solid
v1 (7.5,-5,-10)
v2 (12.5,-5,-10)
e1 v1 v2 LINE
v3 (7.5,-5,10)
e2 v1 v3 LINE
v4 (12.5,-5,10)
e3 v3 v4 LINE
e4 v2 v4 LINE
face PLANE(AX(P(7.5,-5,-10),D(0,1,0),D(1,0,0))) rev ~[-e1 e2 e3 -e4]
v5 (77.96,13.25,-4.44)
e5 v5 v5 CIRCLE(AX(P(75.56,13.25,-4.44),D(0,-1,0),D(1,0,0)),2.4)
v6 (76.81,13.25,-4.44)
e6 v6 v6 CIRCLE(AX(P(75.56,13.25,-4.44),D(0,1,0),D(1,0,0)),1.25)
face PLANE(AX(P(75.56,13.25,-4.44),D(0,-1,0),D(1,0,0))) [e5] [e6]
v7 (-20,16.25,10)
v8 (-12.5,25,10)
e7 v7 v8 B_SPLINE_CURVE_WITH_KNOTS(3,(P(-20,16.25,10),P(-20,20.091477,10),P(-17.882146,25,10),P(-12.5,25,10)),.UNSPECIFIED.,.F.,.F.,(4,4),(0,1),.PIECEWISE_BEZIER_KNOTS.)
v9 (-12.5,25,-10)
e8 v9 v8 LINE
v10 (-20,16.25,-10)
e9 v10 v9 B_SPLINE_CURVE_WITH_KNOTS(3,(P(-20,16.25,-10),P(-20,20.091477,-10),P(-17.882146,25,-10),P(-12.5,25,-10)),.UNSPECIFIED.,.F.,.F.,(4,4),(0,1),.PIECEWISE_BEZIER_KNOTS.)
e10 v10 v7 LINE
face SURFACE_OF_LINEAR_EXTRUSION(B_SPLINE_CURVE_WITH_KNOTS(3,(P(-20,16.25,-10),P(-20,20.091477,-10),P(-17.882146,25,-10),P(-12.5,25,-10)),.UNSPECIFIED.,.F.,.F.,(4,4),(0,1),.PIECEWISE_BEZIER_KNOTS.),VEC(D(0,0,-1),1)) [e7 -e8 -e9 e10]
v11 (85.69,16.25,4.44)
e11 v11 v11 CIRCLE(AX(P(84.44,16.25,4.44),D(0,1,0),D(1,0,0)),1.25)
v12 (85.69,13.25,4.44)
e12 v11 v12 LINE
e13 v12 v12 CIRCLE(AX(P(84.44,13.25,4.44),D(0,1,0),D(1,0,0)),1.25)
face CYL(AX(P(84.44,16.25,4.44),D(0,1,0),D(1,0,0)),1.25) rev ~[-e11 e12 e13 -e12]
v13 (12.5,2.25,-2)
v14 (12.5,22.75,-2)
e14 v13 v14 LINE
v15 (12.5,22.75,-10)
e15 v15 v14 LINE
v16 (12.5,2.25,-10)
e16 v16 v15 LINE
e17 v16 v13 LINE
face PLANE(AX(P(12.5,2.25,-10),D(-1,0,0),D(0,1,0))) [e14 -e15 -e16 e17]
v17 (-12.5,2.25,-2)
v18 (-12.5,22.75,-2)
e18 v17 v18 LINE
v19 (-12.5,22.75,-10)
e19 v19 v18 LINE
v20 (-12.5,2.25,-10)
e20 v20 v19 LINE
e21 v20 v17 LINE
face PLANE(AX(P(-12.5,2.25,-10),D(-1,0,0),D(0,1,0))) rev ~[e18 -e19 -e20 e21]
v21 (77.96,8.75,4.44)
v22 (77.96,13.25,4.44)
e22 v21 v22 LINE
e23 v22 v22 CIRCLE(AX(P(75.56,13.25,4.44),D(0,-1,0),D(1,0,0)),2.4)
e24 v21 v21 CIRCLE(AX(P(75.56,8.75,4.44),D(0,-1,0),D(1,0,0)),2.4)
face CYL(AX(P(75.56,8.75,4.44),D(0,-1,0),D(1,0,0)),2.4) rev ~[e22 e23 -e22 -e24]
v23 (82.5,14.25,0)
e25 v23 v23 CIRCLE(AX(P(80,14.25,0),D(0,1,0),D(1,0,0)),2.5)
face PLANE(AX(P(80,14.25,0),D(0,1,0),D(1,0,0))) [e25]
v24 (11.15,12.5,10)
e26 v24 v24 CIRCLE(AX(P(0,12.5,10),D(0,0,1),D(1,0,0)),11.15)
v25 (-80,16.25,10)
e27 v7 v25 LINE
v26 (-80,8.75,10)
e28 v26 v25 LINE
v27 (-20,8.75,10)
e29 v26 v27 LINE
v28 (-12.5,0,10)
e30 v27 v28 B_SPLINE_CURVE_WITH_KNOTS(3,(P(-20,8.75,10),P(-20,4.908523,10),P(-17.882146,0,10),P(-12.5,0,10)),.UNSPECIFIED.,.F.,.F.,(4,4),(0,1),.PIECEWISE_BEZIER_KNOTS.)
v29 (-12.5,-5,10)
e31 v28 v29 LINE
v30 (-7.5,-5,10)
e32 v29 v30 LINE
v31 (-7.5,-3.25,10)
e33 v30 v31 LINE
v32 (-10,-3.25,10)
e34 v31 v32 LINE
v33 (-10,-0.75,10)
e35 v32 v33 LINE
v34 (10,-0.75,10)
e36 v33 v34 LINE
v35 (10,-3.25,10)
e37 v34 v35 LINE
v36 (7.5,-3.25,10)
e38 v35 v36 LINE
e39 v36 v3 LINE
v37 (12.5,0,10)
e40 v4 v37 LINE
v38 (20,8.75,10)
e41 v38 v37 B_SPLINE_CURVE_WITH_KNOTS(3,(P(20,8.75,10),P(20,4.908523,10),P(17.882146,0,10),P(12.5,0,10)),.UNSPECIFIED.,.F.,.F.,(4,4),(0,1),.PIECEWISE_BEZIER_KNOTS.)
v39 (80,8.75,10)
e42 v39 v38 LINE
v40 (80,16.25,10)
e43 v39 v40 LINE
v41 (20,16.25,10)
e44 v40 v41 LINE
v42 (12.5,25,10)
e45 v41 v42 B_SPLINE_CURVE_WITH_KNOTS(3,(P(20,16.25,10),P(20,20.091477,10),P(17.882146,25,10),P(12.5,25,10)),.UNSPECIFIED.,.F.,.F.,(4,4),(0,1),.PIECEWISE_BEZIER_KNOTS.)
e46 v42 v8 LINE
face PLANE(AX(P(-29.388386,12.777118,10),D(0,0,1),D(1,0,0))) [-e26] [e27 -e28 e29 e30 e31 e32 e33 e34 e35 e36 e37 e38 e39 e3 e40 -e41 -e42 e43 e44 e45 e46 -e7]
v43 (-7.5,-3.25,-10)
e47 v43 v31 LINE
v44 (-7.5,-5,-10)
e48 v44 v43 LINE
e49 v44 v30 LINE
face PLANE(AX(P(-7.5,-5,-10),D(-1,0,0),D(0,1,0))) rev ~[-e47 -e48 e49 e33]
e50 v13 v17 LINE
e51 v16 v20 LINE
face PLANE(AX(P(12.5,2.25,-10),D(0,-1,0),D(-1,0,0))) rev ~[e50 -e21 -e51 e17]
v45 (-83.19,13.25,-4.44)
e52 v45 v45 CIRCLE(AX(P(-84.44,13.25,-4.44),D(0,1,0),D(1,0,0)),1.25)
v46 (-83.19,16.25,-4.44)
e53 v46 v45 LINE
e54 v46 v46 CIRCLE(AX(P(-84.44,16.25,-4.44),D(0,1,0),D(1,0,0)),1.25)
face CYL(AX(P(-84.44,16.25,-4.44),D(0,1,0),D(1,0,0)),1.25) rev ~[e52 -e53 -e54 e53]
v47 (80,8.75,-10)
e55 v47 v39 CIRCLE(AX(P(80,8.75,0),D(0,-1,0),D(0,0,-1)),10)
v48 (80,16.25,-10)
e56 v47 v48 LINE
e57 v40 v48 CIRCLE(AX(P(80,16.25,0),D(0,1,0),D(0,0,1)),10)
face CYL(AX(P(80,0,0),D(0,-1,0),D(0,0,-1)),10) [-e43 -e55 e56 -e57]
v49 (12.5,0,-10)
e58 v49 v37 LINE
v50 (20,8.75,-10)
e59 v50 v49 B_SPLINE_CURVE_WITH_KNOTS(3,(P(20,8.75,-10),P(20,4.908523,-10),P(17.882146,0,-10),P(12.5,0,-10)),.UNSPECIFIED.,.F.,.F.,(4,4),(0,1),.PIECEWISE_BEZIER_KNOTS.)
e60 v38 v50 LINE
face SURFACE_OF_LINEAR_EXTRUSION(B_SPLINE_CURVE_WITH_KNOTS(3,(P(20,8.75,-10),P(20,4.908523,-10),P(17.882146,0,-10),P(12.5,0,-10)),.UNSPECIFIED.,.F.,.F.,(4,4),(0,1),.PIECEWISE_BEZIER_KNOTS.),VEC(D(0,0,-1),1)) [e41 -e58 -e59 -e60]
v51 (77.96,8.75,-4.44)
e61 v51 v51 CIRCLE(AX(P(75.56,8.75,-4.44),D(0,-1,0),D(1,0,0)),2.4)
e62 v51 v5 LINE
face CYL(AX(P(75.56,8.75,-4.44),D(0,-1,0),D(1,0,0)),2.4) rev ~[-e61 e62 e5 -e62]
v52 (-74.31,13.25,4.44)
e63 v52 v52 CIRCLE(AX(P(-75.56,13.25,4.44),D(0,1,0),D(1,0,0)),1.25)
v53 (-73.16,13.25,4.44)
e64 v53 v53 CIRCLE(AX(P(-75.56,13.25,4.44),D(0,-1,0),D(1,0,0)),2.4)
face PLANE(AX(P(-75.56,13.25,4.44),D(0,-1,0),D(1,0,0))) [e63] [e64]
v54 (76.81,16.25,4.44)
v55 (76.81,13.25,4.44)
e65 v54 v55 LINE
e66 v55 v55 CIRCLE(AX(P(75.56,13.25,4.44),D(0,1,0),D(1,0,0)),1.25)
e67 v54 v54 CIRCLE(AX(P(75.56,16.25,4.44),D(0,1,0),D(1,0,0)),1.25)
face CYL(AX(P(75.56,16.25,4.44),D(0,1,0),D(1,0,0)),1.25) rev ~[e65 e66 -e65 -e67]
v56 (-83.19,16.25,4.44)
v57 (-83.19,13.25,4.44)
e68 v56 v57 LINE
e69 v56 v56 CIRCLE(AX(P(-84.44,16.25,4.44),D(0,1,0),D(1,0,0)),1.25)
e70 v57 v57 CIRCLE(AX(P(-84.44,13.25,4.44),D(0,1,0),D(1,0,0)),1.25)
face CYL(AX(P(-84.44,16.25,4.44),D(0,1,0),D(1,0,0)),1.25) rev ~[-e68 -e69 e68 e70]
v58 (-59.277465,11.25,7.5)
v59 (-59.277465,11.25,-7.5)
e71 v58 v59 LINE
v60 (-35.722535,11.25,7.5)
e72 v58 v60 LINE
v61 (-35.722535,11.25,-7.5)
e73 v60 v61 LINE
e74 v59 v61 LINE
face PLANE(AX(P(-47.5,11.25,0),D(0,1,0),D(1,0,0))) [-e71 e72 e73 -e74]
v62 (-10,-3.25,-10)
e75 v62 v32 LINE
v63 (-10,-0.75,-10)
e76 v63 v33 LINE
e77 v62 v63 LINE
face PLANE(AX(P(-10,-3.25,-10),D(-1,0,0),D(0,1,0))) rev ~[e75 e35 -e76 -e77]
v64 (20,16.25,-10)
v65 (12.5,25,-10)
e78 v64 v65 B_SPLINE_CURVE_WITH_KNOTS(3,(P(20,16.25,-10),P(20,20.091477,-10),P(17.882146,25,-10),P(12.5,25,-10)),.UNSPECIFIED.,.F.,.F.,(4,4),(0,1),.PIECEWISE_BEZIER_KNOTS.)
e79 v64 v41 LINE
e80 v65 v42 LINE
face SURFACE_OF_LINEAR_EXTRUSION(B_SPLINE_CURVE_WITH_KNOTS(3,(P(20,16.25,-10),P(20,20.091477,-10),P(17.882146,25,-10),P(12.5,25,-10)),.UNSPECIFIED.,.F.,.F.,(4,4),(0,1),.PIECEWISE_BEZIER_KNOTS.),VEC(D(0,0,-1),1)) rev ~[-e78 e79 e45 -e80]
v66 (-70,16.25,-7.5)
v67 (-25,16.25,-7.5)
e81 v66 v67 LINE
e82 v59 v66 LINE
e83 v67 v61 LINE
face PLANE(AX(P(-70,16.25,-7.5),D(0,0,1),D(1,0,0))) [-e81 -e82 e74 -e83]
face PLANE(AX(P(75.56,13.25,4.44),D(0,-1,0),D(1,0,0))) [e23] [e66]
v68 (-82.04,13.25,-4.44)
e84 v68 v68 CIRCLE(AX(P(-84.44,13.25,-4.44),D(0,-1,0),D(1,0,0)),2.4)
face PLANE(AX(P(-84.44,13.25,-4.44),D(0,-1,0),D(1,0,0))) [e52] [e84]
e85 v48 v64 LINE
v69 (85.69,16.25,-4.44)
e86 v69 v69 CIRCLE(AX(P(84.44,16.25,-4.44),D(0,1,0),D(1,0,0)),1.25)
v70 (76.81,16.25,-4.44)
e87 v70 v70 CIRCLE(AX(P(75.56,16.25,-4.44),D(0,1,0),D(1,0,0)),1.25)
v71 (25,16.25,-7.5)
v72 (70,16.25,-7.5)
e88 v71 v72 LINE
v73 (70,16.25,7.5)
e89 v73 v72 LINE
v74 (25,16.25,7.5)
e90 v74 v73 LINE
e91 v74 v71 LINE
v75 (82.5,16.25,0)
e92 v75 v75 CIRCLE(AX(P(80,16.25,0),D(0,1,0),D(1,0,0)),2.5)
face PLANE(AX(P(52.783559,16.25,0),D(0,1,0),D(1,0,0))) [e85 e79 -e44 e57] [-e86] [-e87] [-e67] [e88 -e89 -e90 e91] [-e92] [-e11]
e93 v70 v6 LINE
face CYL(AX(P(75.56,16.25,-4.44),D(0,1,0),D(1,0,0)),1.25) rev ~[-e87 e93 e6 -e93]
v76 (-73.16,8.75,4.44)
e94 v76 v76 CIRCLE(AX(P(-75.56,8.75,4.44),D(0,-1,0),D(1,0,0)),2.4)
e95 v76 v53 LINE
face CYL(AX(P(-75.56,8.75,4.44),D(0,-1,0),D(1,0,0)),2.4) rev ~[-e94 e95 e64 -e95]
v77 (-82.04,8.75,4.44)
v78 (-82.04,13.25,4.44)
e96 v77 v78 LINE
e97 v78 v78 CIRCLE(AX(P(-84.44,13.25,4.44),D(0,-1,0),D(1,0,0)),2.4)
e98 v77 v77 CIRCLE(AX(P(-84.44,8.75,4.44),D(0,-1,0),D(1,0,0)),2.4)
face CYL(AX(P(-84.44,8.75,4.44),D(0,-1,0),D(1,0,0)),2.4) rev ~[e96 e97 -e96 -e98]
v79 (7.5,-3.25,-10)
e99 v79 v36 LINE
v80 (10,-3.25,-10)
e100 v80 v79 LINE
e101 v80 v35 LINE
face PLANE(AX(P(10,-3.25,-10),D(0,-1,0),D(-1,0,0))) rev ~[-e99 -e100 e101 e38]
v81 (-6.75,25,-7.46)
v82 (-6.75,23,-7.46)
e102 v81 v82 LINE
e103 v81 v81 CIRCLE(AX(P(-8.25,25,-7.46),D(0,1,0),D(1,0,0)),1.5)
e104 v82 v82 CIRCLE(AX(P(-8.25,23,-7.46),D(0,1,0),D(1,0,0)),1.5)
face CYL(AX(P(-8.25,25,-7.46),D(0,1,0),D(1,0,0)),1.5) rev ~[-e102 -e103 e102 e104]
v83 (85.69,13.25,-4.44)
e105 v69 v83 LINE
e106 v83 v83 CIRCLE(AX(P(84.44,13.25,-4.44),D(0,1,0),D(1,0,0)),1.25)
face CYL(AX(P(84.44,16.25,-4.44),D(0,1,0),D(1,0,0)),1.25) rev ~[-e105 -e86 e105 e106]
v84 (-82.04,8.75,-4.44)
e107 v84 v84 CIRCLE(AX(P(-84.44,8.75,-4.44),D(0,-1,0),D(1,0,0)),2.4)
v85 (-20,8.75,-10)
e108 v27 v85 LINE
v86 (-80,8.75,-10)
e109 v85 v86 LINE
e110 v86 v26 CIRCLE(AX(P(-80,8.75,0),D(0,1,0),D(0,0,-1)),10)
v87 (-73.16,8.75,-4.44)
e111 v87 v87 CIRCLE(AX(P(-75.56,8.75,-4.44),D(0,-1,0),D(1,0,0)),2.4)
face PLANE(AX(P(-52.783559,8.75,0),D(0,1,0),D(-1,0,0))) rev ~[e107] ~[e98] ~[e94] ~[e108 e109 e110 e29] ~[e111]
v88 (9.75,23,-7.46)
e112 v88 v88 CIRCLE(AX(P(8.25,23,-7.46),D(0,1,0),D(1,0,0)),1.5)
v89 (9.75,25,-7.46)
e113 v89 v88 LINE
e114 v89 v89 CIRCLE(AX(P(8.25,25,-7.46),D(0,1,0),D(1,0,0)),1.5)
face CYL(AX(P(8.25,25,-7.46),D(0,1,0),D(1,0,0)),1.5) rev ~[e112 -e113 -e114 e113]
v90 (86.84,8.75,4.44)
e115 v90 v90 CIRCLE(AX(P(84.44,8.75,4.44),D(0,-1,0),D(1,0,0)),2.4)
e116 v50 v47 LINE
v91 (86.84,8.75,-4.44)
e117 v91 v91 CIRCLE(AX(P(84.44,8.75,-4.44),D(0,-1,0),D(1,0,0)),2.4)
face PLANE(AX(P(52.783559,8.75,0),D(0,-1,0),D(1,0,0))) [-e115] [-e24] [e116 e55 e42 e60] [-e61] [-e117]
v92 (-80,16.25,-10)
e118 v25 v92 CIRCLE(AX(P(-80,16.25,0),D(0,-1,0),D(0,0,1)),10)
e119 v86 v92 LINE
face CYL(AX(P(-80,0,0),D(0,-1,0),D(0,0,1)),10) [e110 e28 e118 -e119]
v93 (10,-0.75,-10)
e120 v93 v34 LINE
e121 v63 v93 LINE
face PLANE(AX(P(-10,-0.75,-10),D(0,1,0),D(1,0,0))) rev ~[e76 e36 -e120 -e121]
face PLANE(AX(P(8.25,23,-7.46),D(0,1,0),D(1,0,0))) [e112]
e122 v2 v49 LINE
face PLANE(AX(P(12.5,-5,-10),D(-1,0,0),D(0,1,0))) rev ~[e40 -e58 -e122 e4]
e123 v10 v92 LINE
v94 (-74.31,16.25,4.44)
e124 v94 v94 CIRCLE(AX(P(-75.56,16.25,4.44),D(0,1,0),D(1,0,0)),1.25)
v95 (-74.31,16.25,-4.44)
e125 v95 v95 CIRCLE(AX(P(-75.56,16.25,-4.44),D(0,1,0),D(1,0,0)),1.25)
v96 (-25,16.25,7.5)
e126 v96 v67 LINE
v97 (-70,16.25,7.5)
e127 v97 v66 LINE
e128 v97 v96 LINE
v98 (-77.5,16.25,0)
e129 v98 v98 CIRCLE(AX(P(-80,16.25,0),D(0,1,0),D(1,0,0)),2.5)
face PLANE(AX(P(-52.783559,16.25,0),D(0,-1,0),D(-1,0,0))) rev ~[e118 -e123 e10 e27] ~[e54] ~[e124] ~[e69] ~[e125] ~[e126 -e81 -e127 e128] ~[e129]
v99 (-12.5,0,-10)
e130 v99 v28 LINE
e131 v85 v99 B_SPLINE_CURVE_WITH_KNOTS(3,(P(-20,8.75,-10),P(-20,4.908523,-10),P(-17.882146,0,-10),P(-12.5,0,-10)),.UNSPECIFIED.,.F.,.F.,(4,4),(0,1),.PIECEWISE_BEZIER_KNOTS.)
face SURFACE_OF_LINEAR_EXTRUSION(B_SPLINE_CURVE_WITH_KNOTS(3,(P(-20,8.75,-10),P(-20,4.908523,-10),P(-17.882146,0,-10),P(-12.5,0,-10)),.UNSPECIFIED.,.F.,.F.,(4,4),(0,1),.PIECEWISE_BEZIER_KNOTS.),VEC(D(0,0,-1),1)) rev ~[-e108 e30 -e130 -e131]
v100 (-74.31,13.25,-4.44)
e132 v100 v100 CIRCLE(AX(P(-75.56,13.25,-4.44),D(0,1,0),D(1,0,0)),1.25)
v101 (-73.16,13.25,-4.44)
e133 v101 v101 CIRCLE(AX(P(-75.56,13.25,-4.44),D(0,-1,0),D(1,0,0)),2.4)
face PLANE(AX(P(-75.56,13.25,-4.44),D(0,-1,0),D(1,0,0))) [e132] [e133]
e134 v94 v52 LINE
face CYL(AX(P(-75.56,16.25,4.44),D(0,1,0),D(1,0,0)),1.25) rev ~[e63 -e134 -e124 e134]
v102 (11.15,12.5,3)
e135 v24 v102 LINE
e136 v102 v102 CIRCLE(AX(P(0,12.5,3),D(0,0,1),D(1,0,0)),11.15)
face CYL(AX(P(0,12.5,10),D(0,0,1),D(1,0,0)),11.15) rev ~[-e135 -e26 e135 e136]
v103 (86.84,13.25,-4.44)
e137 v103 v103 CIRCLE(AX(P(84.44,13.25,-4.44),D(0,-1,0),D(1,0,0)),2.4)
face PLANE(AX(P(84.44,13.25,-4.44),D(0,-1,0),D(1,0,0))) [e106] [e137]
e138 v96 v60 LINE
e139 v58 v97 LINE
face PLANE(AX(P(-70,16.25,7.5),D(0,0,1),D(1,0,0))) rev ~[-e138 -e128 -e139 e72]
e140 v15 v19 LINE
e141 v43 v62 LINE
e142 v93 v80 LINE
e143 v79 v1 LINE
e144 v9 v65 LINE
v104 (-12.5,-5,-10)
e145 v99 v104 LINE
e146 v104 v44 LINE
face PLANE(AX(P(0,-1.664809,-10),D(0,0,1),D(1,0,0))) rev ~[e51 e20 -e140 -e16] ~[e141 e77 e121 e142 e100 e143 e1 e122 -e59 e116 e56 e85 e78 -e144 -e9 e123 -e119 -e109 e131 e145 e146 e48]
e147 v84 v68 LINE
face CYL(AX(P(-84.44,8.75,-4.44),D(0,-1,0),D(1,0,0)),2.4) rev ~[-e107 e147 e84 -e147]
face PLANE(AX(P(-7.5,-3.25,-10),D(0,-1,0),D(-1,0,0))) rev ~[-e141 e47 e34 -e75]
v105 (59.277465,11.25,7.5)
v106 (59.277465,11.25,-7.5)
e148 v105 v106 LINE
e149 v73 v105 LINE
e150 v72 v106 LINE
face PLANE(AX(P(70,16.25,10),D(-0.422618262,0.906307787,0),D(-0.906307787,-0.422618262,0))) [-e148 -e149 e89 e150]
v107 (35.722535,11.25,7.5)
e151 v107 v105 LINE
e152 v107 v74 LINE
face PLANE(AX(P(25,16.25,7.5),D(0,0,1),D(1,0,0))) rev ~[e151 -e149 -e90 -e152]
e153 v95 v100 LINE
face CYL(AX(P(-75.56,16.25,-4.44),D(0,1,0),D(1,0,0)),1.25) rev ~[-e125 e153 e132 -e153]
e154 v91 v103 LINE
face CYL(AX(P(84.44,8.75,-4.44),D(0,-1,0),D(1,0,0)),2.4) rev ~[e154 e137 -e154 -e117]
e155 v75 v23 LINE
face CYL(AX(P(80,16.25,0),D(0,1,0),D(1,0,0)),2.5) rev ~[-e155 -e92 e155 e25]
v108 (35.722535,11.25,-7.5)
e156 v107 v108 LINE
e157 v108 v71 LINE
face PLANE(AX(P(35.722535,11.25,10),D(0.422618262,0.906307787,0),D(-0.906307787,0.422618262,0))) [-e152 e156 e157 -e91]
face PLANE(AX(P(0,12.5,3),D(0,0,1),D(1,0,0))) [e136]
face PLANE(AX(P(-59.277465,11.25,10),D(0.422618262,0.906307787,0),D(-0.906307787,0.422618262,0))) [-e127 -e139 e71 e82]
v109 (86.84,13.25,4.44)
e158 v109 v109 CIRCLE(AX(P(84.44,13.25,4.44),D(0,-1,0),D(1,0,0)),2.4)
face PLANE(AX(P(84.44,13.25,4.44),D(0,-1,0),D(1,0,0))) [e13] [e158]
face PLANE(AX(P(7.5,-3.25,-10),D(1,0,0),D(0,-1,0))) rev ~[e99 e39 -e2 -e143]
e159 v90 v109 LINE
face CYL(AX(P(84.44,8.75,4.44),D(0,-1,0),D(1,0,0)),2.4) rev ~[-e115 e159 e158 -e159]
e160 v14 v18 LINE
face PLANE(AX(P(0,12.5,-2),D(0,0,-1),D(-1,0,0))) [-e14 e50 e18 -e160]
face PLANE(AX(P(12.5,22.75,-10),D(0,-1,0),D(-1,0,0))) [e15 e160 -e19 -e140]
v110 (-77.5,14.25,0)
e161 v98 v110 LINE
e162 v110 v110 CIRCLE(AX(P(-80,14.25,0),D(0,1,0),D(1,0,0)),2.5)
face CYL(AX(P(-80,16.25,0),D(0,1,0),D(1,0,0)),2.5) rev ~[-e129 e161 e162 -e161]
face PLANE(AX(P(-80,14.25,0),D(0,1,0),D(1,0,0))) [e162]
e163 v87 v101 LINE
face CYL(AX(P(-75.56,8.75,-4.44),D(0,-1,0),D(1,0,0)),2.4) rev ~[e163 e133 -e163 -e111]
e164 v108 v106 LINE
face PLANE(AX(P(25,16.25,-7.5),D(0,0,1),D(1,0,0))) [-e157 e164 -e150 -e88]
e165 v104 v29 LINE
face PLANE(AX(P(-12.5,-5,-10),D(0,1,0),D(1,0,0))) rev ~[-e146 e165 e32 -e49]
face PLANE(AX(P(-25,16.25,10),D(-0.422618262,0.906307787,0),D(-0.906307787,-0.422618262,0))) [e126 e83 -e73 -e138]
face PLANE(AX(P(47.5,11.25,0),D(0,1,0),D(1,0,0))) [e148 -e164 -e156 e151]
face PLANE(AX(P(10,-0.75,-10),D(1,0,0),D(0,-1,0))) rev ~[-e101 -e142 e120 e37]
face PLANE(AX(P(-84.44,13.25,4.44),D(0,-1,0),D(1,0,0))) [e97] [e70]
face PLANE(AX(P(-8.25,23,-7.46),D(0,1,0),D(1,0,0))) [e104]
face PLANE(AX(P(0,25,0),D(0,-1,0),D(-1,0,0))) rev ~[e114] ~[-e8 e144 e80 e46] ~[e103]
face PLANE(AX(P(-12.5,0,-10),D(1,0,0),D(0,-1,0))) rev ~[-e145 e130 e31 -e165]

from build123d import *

# Parameters (mm, degrees)
BOSS_EXTRUDE1_DEPTH = 25
SKETCH2_R           = 11.15
CUT_EXTRUDE1_DEPTH  = 7
CUT_EXTRUDE2_DEPTH  = 8.75
CUT_EXTRUDE3_DEPTH  = 8.75
SKETCH5_W           = 25
SKETCH5_H           = 20.5
CUT_EXTRUDE4_DEPTH  = 8
SKETCH9_R           = 2.5
CUT_EXTRUDE5_DEPTH  = 2
CUT_EXTRUDE6_REACH  = 18.25
SKETCH10_R          = 1.25
SKETCH13_R          = 2.4
CUT_EXTRUDE7_DEPTH  = 4.5
SKETCH14_R          = 1.5
CUT_EXTRUDE8_DEPTH  = 2
CUT_EXTRUDE10_DEPTH = 20
BOSS_EXTRUDE2_DEPTH = 20
SKETCH18_W          = 45
SKETCH18_H          = 15
CUT_EXTRUDE11_DEPTH = 5
BOSS_EXTRUDE3_DEPTH = 20


with BuildPart() as part:
    # Sketch1 → Boss-Extrude1 (new body)
    with BuildSketch(Plane(origin=(0, 0, 0), x_dir=(1, 0, 0), z_dir=(0, 1, 0))):
        with BuildLine():
            Line((-80, 10), (80, 10))
            ThreePointArc((80, 10), (90, 0), (80, -10))
            Line((80, -10), (-80, -10))
            ThreePointArc((-80, -10), (-90, 0), (-80, 10))
        make_face()
    extrude(amount=BOSS_EXTRUDE1_DEPTH)

    # Sketch2 → Cut-Extrude1 (cut)
    with BuildSketch(Plane.XY.offset(10)):
        with Locations((0, 12.5)):
            Circle(SKETCH2_R)
    extrude(amount=-CUT_EXTRUDE1_DEPTH, mode=Mode.SUBTRACT)

    # Sketch3 → Cut-Extrude2 (cut)
    with BuildSketch(Plane(origin=(0, 25, 0), x_dir=(1, 0, 0), z_dir=(0, 1, 0))):
        with BuildLine():
            Line((-20, 10), (-20, -10))
            Line((-20, -10), (-80, -10))
            ThreePointArc((-80, -10), (-90, 0), (-80, 10))
            Line((-80, 10), (-20, 10))
        make_face()
        with BuildLine():
            Line((20, 10), (20, -10))
            Line((20, -10), (80, -10))
            ThreePointArc((80, -10), (90, 0), (80, 10))
            Line((80, 10), (20, 10))
        make_face()
    extrude(amount=-CUT_EXTRUDE2_DEPTH, mode=Mode.SUBTRACT)

    # Sketch4 → Cut-Extrude3 (cut)
    with BuildSketch(Plane.XZ):
        with BuildLine():
            Line((20, 10), (20, -10))
            Line((20, -10), (80, -10))
            ThreePointArc((80, -10), (90, 0), (80, 10))
            Line((80, 10), (20, 10))
        make_face()
        with BuildLine():
            Line((-20, 10), (-20, -10))
            Line((-20, -10), (-80, -10))
            ThreePointArc((-80, -10), (-90, 0), (-80, 10))
            Line((-80, 10), (-20, 10))
        make_face()
    extrude(amount=-CUT_EXTRUDE3_DEPTH, mode=Mode.SUBTRACT)

    # Sketch5 → Cut-Extrude4 (cut)
    with BuildSketch(Plane(origin=(0, 0, -10), x_dir=(-1, 0, 0), z_dir=(0, 0, -1))):
        with Locations((0, 12.5)):
            Rectangle(SKETCH5_W, SKETCH5_H)
    extrude(amount=-CUT_EXTRUDE4_DEPTH, mode=Mode.SUBTRACT)

    # Sketch9 → Cut-Extrude5 (cut)
    with BuildSketch(Plane(origin=(0, 16.25, 0), x_dir=(1, 0, 0), z_dir=(0, 1, 0))):
        with Locations((-80, 0)):
            Circle(SKETCH9_R)
        with Locations((80, 0)):
            Circle(SKETCH9_R)
    extrude(amount=-CUT_EXTRUDE5_DEPTH, mode=Mode.SUBTRACT)

    # Sketch10 → Cut-Extrude6 (cut, up to next)
    with BuildSketch(Plane(origin=(0, 16.25, 0), x_dir=(1, 0, 0), z_dir=(0, 1, 0)), mode=Mode.PRIVATE) as cut_extrude6_sk1:
        with Locations((-75.56, 4.44)):
            Circle(SKETCH10_R)
    cut_extrude6_tool1 = extrude(cut_extrude6_sk1.sketch, amount=-CUT_EXTRUDE6_REACH, mode=Mode.PRIVATE) & part.part
    add(cut_extrude6_tool1.solids().sort_by_distance((-75.56, 16.25, -4.44))[0], mode=Mode.SUBTRACT)
    # Sketch10 → Cut-Extrude6 (cut, up to next)
    with BuildSketch(Plane(origin=(0, 16.25, 0), x_dir=(1, 0, 0), z_dir=(0, 1, 0)), mode=Mode.PRIVATE) as cut_extrude6_sk2:
        with Locations((-75.56, -4.44)):
            Circle(SKETCH10_R)
    cut_extrude6_tool2 = extrude(cut_extrude6_sk2.sketch, amount=-CUT_EXTRUDE6_REACH, mode=Mode.PRIVATE) & part.part
    add(cut_extrude6_tool2.solids().sort_by_distance((-75.56, 16.25, 4.44))[0], mode=Mode.SUBTRACT)
    # Sketch10 → Cut-Extrude6 (cut, up to next)
    with BuildSketch(Plane(origin=(0, 16.25, 0), x_dir=(1, 0, 0), z_dir=(0, 1, 0)), mode=Mode.PRIVATE) as cut_extrude6_sk3:
        with Locations((-84.44, -4.44)):
            Circle(SKETCH10_R)
    cut_extrude6_tool3 = extrude(cut_extrude6_sk3.sketch, amount=-CUT_EXTRUDE6_REACH, mode=Mode.PRIVATE) & part.part
    add(cut_extrude6_tool3.solids().sort_by_distance((-84.44, 16.25, 4.44))[0], mode=Mode.SUBTRACT)
    # Sketch10 → Cut-Extrude6 (cut, up to next)
    with BuildSketch(Plane(origin=(0, 16.25, 0), x_dir=(1, 0, 0), z_dir=(0, 1, 0)), mode=Mode.PRIVATE) as cut_extrude6_sk4:
        with Locations((-84.44, 4.44)):
            Circle(SKETCH10_R)
    cut_extrude6_tool4 = extrude(cut_extrude6_sk4.sketch, amount=-CUT_EXTRUDE6_REACH, mode=Mode.PRIVATE) & part.part
    add(cut_extrude6_tool4.solids().sort_by_distance((-84.44, 16.25, -4.44))[0], mode=Mode.SUBTRACT)
    # Sketch10 → Cut-Extrude6 (cut, up to next)
    with BuildSketch(Plane(origin=(0, 16.25, 0), x_dir=(1, 0, 0), z_dir=(0, 1, 0)), mode=Mode.PRIVATE) as cut_extrude6_sk5:
        with Locations((84.44, 4.44)):
            Circle(SKETCH10_R)
    cut_extrude6_tool5 = extrude(cut_extrude6_sk5.sketch, amount=-CUT_EXTRUDE6_REACH, mode=Mode.PRIVATE) & part.part
    add(cut_extrude6_tool5.solids().sort_by_distance((84.44, 16.25, -4.44))[0], mode=Mode.SUBTRACT)
    # Sketch10 → Cut-Extrude6 (cut, up to next)
    with BuildSketch(Plane(origin=(0, 16.25, 0), x_dir=(1, 0, 0), z_dir=(0, 1, 0)), mode=Mode.PRIVATE) as cut_extrude6_sk6:
        with Locations((84.44, -4.44)):
            Circle(SKETCH10_R)
    cut_extrude6_tool6 = extrude(cut_extrude6_sk6.sketch, amount=-CUT_EXTRUDE6_REACH, mode=Mode.PRIVATE) & part.part
    add(cut_extrude6_tool6.solids().sort_by_distance((84.44, 16.25, 4.44))[0], mode=Mode.SUBTRACT)
    # Sketch10 → Cut-Extrude6 (cut, up to next)
    with BuildSketch(Plane(origin=(0, 16.25, 0), x_dir=(1, 0, 0), z_dir=(0, 1, 0)), mode=Mode.PRIVATE) as cut_extrude6_sk7:
        with Locations((75.56, -4.44)):
            Circle(SKETCH10_R)
    cut_extrude6_tool7 = extrude(cut_extrude6_sk7.sketch, amount=-CUT_EXTRUDE6_REACH, mode=Mode.PRIVATE) & part.part
    add(cut_extrude6_tool7.solids().sort_by_distance((75.56, 16.25, 4.44))[0], mode=Mode.SUBTRACT)
    # Sketch10 → Cut-Extrude6 (cut, up to next)
    with BuildSketch(Plane(origin=(0, 16.25, 0), x_dir=(1, 0, 0), z_dir=(0, 1, 0)), mode=Mode.PRIVATE) as cut_extrude6_sk8:
        with Locations((75.56, 4.44)):
            Circle(SKETCH10_R)
    cut_extrude6_tool8 = extrude(cut_extrude6_sk8.sketch, amount=-CUT_EXTRUDE6_REACH, mode=Mode.PRIVATE) & part.part
    add(cut_extrude6_tool8.solids().sort_by_distance((75.56, 16.25, -4.44))[0], mode=Mode.SUBTRACT)

    # Sketch13 → Cut-Extrude7 (cut)
    with BuildSketch(Plane.XZ.offset(-8.75)):
        with Locations((-75.56, 4.44)):
            Circle(SKETCH13_R)
        with Locations((-75.56, -4.44)):
            Circle(SKETCH13_R)
        with Locations((-84.44, -4.44)):
            Circle(SKETCH13_R)
        with Locations((-84.44, 4.44)):
            Circle(SKETCH13_R)
        with Locations((84.44, 4.44)):
            Circle(SKETCH13_R)
        with Locations((84.44, -4.44)):
            Circle(SKETCH13_R)
        with Locations((75.56, -4.44)):
            Circle(SKETCH13_R)
        with Locations((75.56, 4.44)):
            Circle(SKETCH13_R)
    extrude(amount=-CUT_EXTRUDE7_DEPTH, mode=Mode.SUBTRACT)

    # Sketch14 → Cut-Extrude8 (cut)
    with BuildSketch(Plane(origin=(0, 25, 0), x_dir=(1, 0, 0), z_dir=(0, 1, 0))):
        with Locations((-8.25, 7.46)):
            Circle(SKETCH14_R)
        with Locations((8.25, 7.46)):
            Circle(SKETCH14_R)
    extrude(amount=-CUT_EXTRUDE8_DEPTH, mode=Mode.SUBTRACT)

    # Sketch16 → Cut-Extrude10 (cut)
    with BuildSketch(Plane(origin=(0, 0, -10), x_dir=(-1, 0, 0), z_dir=(0, 0, -1))):
        with BuildLine():
            Line((-12.5, 25), (-20, 25))
            Line((-20, 25), (-20, 16.25))
            add(Edge.make_bspline(
                [(-20, 16.25), (-20, 20.091476857), (-17.882145689, 25), (-12.5, 25)],
                knots=[0, 0, 0, 0, 1, 1, 1, 1], degree=3))
        make_face()
        with BuildLine():
            Line((12.5, 25), (20, 25))
            Line((20, 25), (20, 16.25))
            add(Edge.make_bspline(
                [(20, 16.25), (20, 20.091476857), (17.882145689, 25), (12.5, 25)],
                knots=[0, 0, 0, 0, 1, 1, 1, 1], degree=3))
        make_face()
        with BuildLine():
            Line((20, 0), (20, 8.75))
            add(Edge.make_bspline(
                [(20, 8.75), (20, 4.908523143), (17.882145689, 0), (12.5, 0)],
                knots=[0, 0, 0, 0, 1, 1, 1, 1], degree=3))
            Line((12.5, 0), (20, 0))
        make_face()
        with BuildLine():
            Line((-20, 0), (-20, 8.75))
            add(Edge.make_bspline(
                [(-20, 8.75), (-20, 4.908523143), (-17.882145689, 0), (-12.5, 0)],
                knots=[0, 0, 0, 0, 1, 1, 1, 1], degree=3))
            Line((-12.5, 0), (-20, 0))
        make_face()
    extrude(amount=-CUT_EXTRUDE10_DEPTH, mode=Mode.SUBTRACT)

    # Sketch17 → Boss-Extrude2 (add)
    with BuildSketch(Plane(origin=(0, 0, -10), x_dir=(-1, 0, 0), z_dir=(0, 0, -1))):
        Polygon((12.5, 0), (12.5, -5), (7.5, -5), (7.5, -3.25), (10, -3.25), (10, -0.75), (-10, -0.75), (-10, -3.25), (-7.5, -3.25), (-7.5, -5), (-12.5, -5), (-12.5, 0), align=None)
    extrude(amount=-BOSS_EXTRUDE2_DEPTH)

    # Sketch18 → Cut-Extrude11 (cut)
    with BuildSketch(Plane(origin=(0, 16.25, 0), x_dir=(1, 0, 0), z_dir=(0, 1, 0))):
        with Locations((47.5, 0)):
            Rectangle(SKETCH18_W, SKETCH18_H)
        with Locations((-47.5, 0)):
            Rectangle(SKETCH18_W, SKETCH18_H)
    extrude(amount=-CUT_EXTRUDE11_DEPTH, mode=Mode.SUBTRACT)

    # Sketch20 → Boss-Extrude3 (add)
    with BuildSketch(Plane.XY.offset(10)):
        Polygon((-25, 11.25), (-25, 16.25), (-35.722534603, 11.25), align=None)
        Polygon((-70, 11.25), (-59.277465397, 11.25), (-70, 16.25), align=None)
        Polygon((25, 11.25), (35.722534603, 11.25), (25, 16.25), align=None)
        Polygon((70, 11.25), (70, 16.25), (59.277465397, 11.25), align=None)
    extrude(amount=-BOSS_EXTRUDE3_DEPTH)


solid = part.part
